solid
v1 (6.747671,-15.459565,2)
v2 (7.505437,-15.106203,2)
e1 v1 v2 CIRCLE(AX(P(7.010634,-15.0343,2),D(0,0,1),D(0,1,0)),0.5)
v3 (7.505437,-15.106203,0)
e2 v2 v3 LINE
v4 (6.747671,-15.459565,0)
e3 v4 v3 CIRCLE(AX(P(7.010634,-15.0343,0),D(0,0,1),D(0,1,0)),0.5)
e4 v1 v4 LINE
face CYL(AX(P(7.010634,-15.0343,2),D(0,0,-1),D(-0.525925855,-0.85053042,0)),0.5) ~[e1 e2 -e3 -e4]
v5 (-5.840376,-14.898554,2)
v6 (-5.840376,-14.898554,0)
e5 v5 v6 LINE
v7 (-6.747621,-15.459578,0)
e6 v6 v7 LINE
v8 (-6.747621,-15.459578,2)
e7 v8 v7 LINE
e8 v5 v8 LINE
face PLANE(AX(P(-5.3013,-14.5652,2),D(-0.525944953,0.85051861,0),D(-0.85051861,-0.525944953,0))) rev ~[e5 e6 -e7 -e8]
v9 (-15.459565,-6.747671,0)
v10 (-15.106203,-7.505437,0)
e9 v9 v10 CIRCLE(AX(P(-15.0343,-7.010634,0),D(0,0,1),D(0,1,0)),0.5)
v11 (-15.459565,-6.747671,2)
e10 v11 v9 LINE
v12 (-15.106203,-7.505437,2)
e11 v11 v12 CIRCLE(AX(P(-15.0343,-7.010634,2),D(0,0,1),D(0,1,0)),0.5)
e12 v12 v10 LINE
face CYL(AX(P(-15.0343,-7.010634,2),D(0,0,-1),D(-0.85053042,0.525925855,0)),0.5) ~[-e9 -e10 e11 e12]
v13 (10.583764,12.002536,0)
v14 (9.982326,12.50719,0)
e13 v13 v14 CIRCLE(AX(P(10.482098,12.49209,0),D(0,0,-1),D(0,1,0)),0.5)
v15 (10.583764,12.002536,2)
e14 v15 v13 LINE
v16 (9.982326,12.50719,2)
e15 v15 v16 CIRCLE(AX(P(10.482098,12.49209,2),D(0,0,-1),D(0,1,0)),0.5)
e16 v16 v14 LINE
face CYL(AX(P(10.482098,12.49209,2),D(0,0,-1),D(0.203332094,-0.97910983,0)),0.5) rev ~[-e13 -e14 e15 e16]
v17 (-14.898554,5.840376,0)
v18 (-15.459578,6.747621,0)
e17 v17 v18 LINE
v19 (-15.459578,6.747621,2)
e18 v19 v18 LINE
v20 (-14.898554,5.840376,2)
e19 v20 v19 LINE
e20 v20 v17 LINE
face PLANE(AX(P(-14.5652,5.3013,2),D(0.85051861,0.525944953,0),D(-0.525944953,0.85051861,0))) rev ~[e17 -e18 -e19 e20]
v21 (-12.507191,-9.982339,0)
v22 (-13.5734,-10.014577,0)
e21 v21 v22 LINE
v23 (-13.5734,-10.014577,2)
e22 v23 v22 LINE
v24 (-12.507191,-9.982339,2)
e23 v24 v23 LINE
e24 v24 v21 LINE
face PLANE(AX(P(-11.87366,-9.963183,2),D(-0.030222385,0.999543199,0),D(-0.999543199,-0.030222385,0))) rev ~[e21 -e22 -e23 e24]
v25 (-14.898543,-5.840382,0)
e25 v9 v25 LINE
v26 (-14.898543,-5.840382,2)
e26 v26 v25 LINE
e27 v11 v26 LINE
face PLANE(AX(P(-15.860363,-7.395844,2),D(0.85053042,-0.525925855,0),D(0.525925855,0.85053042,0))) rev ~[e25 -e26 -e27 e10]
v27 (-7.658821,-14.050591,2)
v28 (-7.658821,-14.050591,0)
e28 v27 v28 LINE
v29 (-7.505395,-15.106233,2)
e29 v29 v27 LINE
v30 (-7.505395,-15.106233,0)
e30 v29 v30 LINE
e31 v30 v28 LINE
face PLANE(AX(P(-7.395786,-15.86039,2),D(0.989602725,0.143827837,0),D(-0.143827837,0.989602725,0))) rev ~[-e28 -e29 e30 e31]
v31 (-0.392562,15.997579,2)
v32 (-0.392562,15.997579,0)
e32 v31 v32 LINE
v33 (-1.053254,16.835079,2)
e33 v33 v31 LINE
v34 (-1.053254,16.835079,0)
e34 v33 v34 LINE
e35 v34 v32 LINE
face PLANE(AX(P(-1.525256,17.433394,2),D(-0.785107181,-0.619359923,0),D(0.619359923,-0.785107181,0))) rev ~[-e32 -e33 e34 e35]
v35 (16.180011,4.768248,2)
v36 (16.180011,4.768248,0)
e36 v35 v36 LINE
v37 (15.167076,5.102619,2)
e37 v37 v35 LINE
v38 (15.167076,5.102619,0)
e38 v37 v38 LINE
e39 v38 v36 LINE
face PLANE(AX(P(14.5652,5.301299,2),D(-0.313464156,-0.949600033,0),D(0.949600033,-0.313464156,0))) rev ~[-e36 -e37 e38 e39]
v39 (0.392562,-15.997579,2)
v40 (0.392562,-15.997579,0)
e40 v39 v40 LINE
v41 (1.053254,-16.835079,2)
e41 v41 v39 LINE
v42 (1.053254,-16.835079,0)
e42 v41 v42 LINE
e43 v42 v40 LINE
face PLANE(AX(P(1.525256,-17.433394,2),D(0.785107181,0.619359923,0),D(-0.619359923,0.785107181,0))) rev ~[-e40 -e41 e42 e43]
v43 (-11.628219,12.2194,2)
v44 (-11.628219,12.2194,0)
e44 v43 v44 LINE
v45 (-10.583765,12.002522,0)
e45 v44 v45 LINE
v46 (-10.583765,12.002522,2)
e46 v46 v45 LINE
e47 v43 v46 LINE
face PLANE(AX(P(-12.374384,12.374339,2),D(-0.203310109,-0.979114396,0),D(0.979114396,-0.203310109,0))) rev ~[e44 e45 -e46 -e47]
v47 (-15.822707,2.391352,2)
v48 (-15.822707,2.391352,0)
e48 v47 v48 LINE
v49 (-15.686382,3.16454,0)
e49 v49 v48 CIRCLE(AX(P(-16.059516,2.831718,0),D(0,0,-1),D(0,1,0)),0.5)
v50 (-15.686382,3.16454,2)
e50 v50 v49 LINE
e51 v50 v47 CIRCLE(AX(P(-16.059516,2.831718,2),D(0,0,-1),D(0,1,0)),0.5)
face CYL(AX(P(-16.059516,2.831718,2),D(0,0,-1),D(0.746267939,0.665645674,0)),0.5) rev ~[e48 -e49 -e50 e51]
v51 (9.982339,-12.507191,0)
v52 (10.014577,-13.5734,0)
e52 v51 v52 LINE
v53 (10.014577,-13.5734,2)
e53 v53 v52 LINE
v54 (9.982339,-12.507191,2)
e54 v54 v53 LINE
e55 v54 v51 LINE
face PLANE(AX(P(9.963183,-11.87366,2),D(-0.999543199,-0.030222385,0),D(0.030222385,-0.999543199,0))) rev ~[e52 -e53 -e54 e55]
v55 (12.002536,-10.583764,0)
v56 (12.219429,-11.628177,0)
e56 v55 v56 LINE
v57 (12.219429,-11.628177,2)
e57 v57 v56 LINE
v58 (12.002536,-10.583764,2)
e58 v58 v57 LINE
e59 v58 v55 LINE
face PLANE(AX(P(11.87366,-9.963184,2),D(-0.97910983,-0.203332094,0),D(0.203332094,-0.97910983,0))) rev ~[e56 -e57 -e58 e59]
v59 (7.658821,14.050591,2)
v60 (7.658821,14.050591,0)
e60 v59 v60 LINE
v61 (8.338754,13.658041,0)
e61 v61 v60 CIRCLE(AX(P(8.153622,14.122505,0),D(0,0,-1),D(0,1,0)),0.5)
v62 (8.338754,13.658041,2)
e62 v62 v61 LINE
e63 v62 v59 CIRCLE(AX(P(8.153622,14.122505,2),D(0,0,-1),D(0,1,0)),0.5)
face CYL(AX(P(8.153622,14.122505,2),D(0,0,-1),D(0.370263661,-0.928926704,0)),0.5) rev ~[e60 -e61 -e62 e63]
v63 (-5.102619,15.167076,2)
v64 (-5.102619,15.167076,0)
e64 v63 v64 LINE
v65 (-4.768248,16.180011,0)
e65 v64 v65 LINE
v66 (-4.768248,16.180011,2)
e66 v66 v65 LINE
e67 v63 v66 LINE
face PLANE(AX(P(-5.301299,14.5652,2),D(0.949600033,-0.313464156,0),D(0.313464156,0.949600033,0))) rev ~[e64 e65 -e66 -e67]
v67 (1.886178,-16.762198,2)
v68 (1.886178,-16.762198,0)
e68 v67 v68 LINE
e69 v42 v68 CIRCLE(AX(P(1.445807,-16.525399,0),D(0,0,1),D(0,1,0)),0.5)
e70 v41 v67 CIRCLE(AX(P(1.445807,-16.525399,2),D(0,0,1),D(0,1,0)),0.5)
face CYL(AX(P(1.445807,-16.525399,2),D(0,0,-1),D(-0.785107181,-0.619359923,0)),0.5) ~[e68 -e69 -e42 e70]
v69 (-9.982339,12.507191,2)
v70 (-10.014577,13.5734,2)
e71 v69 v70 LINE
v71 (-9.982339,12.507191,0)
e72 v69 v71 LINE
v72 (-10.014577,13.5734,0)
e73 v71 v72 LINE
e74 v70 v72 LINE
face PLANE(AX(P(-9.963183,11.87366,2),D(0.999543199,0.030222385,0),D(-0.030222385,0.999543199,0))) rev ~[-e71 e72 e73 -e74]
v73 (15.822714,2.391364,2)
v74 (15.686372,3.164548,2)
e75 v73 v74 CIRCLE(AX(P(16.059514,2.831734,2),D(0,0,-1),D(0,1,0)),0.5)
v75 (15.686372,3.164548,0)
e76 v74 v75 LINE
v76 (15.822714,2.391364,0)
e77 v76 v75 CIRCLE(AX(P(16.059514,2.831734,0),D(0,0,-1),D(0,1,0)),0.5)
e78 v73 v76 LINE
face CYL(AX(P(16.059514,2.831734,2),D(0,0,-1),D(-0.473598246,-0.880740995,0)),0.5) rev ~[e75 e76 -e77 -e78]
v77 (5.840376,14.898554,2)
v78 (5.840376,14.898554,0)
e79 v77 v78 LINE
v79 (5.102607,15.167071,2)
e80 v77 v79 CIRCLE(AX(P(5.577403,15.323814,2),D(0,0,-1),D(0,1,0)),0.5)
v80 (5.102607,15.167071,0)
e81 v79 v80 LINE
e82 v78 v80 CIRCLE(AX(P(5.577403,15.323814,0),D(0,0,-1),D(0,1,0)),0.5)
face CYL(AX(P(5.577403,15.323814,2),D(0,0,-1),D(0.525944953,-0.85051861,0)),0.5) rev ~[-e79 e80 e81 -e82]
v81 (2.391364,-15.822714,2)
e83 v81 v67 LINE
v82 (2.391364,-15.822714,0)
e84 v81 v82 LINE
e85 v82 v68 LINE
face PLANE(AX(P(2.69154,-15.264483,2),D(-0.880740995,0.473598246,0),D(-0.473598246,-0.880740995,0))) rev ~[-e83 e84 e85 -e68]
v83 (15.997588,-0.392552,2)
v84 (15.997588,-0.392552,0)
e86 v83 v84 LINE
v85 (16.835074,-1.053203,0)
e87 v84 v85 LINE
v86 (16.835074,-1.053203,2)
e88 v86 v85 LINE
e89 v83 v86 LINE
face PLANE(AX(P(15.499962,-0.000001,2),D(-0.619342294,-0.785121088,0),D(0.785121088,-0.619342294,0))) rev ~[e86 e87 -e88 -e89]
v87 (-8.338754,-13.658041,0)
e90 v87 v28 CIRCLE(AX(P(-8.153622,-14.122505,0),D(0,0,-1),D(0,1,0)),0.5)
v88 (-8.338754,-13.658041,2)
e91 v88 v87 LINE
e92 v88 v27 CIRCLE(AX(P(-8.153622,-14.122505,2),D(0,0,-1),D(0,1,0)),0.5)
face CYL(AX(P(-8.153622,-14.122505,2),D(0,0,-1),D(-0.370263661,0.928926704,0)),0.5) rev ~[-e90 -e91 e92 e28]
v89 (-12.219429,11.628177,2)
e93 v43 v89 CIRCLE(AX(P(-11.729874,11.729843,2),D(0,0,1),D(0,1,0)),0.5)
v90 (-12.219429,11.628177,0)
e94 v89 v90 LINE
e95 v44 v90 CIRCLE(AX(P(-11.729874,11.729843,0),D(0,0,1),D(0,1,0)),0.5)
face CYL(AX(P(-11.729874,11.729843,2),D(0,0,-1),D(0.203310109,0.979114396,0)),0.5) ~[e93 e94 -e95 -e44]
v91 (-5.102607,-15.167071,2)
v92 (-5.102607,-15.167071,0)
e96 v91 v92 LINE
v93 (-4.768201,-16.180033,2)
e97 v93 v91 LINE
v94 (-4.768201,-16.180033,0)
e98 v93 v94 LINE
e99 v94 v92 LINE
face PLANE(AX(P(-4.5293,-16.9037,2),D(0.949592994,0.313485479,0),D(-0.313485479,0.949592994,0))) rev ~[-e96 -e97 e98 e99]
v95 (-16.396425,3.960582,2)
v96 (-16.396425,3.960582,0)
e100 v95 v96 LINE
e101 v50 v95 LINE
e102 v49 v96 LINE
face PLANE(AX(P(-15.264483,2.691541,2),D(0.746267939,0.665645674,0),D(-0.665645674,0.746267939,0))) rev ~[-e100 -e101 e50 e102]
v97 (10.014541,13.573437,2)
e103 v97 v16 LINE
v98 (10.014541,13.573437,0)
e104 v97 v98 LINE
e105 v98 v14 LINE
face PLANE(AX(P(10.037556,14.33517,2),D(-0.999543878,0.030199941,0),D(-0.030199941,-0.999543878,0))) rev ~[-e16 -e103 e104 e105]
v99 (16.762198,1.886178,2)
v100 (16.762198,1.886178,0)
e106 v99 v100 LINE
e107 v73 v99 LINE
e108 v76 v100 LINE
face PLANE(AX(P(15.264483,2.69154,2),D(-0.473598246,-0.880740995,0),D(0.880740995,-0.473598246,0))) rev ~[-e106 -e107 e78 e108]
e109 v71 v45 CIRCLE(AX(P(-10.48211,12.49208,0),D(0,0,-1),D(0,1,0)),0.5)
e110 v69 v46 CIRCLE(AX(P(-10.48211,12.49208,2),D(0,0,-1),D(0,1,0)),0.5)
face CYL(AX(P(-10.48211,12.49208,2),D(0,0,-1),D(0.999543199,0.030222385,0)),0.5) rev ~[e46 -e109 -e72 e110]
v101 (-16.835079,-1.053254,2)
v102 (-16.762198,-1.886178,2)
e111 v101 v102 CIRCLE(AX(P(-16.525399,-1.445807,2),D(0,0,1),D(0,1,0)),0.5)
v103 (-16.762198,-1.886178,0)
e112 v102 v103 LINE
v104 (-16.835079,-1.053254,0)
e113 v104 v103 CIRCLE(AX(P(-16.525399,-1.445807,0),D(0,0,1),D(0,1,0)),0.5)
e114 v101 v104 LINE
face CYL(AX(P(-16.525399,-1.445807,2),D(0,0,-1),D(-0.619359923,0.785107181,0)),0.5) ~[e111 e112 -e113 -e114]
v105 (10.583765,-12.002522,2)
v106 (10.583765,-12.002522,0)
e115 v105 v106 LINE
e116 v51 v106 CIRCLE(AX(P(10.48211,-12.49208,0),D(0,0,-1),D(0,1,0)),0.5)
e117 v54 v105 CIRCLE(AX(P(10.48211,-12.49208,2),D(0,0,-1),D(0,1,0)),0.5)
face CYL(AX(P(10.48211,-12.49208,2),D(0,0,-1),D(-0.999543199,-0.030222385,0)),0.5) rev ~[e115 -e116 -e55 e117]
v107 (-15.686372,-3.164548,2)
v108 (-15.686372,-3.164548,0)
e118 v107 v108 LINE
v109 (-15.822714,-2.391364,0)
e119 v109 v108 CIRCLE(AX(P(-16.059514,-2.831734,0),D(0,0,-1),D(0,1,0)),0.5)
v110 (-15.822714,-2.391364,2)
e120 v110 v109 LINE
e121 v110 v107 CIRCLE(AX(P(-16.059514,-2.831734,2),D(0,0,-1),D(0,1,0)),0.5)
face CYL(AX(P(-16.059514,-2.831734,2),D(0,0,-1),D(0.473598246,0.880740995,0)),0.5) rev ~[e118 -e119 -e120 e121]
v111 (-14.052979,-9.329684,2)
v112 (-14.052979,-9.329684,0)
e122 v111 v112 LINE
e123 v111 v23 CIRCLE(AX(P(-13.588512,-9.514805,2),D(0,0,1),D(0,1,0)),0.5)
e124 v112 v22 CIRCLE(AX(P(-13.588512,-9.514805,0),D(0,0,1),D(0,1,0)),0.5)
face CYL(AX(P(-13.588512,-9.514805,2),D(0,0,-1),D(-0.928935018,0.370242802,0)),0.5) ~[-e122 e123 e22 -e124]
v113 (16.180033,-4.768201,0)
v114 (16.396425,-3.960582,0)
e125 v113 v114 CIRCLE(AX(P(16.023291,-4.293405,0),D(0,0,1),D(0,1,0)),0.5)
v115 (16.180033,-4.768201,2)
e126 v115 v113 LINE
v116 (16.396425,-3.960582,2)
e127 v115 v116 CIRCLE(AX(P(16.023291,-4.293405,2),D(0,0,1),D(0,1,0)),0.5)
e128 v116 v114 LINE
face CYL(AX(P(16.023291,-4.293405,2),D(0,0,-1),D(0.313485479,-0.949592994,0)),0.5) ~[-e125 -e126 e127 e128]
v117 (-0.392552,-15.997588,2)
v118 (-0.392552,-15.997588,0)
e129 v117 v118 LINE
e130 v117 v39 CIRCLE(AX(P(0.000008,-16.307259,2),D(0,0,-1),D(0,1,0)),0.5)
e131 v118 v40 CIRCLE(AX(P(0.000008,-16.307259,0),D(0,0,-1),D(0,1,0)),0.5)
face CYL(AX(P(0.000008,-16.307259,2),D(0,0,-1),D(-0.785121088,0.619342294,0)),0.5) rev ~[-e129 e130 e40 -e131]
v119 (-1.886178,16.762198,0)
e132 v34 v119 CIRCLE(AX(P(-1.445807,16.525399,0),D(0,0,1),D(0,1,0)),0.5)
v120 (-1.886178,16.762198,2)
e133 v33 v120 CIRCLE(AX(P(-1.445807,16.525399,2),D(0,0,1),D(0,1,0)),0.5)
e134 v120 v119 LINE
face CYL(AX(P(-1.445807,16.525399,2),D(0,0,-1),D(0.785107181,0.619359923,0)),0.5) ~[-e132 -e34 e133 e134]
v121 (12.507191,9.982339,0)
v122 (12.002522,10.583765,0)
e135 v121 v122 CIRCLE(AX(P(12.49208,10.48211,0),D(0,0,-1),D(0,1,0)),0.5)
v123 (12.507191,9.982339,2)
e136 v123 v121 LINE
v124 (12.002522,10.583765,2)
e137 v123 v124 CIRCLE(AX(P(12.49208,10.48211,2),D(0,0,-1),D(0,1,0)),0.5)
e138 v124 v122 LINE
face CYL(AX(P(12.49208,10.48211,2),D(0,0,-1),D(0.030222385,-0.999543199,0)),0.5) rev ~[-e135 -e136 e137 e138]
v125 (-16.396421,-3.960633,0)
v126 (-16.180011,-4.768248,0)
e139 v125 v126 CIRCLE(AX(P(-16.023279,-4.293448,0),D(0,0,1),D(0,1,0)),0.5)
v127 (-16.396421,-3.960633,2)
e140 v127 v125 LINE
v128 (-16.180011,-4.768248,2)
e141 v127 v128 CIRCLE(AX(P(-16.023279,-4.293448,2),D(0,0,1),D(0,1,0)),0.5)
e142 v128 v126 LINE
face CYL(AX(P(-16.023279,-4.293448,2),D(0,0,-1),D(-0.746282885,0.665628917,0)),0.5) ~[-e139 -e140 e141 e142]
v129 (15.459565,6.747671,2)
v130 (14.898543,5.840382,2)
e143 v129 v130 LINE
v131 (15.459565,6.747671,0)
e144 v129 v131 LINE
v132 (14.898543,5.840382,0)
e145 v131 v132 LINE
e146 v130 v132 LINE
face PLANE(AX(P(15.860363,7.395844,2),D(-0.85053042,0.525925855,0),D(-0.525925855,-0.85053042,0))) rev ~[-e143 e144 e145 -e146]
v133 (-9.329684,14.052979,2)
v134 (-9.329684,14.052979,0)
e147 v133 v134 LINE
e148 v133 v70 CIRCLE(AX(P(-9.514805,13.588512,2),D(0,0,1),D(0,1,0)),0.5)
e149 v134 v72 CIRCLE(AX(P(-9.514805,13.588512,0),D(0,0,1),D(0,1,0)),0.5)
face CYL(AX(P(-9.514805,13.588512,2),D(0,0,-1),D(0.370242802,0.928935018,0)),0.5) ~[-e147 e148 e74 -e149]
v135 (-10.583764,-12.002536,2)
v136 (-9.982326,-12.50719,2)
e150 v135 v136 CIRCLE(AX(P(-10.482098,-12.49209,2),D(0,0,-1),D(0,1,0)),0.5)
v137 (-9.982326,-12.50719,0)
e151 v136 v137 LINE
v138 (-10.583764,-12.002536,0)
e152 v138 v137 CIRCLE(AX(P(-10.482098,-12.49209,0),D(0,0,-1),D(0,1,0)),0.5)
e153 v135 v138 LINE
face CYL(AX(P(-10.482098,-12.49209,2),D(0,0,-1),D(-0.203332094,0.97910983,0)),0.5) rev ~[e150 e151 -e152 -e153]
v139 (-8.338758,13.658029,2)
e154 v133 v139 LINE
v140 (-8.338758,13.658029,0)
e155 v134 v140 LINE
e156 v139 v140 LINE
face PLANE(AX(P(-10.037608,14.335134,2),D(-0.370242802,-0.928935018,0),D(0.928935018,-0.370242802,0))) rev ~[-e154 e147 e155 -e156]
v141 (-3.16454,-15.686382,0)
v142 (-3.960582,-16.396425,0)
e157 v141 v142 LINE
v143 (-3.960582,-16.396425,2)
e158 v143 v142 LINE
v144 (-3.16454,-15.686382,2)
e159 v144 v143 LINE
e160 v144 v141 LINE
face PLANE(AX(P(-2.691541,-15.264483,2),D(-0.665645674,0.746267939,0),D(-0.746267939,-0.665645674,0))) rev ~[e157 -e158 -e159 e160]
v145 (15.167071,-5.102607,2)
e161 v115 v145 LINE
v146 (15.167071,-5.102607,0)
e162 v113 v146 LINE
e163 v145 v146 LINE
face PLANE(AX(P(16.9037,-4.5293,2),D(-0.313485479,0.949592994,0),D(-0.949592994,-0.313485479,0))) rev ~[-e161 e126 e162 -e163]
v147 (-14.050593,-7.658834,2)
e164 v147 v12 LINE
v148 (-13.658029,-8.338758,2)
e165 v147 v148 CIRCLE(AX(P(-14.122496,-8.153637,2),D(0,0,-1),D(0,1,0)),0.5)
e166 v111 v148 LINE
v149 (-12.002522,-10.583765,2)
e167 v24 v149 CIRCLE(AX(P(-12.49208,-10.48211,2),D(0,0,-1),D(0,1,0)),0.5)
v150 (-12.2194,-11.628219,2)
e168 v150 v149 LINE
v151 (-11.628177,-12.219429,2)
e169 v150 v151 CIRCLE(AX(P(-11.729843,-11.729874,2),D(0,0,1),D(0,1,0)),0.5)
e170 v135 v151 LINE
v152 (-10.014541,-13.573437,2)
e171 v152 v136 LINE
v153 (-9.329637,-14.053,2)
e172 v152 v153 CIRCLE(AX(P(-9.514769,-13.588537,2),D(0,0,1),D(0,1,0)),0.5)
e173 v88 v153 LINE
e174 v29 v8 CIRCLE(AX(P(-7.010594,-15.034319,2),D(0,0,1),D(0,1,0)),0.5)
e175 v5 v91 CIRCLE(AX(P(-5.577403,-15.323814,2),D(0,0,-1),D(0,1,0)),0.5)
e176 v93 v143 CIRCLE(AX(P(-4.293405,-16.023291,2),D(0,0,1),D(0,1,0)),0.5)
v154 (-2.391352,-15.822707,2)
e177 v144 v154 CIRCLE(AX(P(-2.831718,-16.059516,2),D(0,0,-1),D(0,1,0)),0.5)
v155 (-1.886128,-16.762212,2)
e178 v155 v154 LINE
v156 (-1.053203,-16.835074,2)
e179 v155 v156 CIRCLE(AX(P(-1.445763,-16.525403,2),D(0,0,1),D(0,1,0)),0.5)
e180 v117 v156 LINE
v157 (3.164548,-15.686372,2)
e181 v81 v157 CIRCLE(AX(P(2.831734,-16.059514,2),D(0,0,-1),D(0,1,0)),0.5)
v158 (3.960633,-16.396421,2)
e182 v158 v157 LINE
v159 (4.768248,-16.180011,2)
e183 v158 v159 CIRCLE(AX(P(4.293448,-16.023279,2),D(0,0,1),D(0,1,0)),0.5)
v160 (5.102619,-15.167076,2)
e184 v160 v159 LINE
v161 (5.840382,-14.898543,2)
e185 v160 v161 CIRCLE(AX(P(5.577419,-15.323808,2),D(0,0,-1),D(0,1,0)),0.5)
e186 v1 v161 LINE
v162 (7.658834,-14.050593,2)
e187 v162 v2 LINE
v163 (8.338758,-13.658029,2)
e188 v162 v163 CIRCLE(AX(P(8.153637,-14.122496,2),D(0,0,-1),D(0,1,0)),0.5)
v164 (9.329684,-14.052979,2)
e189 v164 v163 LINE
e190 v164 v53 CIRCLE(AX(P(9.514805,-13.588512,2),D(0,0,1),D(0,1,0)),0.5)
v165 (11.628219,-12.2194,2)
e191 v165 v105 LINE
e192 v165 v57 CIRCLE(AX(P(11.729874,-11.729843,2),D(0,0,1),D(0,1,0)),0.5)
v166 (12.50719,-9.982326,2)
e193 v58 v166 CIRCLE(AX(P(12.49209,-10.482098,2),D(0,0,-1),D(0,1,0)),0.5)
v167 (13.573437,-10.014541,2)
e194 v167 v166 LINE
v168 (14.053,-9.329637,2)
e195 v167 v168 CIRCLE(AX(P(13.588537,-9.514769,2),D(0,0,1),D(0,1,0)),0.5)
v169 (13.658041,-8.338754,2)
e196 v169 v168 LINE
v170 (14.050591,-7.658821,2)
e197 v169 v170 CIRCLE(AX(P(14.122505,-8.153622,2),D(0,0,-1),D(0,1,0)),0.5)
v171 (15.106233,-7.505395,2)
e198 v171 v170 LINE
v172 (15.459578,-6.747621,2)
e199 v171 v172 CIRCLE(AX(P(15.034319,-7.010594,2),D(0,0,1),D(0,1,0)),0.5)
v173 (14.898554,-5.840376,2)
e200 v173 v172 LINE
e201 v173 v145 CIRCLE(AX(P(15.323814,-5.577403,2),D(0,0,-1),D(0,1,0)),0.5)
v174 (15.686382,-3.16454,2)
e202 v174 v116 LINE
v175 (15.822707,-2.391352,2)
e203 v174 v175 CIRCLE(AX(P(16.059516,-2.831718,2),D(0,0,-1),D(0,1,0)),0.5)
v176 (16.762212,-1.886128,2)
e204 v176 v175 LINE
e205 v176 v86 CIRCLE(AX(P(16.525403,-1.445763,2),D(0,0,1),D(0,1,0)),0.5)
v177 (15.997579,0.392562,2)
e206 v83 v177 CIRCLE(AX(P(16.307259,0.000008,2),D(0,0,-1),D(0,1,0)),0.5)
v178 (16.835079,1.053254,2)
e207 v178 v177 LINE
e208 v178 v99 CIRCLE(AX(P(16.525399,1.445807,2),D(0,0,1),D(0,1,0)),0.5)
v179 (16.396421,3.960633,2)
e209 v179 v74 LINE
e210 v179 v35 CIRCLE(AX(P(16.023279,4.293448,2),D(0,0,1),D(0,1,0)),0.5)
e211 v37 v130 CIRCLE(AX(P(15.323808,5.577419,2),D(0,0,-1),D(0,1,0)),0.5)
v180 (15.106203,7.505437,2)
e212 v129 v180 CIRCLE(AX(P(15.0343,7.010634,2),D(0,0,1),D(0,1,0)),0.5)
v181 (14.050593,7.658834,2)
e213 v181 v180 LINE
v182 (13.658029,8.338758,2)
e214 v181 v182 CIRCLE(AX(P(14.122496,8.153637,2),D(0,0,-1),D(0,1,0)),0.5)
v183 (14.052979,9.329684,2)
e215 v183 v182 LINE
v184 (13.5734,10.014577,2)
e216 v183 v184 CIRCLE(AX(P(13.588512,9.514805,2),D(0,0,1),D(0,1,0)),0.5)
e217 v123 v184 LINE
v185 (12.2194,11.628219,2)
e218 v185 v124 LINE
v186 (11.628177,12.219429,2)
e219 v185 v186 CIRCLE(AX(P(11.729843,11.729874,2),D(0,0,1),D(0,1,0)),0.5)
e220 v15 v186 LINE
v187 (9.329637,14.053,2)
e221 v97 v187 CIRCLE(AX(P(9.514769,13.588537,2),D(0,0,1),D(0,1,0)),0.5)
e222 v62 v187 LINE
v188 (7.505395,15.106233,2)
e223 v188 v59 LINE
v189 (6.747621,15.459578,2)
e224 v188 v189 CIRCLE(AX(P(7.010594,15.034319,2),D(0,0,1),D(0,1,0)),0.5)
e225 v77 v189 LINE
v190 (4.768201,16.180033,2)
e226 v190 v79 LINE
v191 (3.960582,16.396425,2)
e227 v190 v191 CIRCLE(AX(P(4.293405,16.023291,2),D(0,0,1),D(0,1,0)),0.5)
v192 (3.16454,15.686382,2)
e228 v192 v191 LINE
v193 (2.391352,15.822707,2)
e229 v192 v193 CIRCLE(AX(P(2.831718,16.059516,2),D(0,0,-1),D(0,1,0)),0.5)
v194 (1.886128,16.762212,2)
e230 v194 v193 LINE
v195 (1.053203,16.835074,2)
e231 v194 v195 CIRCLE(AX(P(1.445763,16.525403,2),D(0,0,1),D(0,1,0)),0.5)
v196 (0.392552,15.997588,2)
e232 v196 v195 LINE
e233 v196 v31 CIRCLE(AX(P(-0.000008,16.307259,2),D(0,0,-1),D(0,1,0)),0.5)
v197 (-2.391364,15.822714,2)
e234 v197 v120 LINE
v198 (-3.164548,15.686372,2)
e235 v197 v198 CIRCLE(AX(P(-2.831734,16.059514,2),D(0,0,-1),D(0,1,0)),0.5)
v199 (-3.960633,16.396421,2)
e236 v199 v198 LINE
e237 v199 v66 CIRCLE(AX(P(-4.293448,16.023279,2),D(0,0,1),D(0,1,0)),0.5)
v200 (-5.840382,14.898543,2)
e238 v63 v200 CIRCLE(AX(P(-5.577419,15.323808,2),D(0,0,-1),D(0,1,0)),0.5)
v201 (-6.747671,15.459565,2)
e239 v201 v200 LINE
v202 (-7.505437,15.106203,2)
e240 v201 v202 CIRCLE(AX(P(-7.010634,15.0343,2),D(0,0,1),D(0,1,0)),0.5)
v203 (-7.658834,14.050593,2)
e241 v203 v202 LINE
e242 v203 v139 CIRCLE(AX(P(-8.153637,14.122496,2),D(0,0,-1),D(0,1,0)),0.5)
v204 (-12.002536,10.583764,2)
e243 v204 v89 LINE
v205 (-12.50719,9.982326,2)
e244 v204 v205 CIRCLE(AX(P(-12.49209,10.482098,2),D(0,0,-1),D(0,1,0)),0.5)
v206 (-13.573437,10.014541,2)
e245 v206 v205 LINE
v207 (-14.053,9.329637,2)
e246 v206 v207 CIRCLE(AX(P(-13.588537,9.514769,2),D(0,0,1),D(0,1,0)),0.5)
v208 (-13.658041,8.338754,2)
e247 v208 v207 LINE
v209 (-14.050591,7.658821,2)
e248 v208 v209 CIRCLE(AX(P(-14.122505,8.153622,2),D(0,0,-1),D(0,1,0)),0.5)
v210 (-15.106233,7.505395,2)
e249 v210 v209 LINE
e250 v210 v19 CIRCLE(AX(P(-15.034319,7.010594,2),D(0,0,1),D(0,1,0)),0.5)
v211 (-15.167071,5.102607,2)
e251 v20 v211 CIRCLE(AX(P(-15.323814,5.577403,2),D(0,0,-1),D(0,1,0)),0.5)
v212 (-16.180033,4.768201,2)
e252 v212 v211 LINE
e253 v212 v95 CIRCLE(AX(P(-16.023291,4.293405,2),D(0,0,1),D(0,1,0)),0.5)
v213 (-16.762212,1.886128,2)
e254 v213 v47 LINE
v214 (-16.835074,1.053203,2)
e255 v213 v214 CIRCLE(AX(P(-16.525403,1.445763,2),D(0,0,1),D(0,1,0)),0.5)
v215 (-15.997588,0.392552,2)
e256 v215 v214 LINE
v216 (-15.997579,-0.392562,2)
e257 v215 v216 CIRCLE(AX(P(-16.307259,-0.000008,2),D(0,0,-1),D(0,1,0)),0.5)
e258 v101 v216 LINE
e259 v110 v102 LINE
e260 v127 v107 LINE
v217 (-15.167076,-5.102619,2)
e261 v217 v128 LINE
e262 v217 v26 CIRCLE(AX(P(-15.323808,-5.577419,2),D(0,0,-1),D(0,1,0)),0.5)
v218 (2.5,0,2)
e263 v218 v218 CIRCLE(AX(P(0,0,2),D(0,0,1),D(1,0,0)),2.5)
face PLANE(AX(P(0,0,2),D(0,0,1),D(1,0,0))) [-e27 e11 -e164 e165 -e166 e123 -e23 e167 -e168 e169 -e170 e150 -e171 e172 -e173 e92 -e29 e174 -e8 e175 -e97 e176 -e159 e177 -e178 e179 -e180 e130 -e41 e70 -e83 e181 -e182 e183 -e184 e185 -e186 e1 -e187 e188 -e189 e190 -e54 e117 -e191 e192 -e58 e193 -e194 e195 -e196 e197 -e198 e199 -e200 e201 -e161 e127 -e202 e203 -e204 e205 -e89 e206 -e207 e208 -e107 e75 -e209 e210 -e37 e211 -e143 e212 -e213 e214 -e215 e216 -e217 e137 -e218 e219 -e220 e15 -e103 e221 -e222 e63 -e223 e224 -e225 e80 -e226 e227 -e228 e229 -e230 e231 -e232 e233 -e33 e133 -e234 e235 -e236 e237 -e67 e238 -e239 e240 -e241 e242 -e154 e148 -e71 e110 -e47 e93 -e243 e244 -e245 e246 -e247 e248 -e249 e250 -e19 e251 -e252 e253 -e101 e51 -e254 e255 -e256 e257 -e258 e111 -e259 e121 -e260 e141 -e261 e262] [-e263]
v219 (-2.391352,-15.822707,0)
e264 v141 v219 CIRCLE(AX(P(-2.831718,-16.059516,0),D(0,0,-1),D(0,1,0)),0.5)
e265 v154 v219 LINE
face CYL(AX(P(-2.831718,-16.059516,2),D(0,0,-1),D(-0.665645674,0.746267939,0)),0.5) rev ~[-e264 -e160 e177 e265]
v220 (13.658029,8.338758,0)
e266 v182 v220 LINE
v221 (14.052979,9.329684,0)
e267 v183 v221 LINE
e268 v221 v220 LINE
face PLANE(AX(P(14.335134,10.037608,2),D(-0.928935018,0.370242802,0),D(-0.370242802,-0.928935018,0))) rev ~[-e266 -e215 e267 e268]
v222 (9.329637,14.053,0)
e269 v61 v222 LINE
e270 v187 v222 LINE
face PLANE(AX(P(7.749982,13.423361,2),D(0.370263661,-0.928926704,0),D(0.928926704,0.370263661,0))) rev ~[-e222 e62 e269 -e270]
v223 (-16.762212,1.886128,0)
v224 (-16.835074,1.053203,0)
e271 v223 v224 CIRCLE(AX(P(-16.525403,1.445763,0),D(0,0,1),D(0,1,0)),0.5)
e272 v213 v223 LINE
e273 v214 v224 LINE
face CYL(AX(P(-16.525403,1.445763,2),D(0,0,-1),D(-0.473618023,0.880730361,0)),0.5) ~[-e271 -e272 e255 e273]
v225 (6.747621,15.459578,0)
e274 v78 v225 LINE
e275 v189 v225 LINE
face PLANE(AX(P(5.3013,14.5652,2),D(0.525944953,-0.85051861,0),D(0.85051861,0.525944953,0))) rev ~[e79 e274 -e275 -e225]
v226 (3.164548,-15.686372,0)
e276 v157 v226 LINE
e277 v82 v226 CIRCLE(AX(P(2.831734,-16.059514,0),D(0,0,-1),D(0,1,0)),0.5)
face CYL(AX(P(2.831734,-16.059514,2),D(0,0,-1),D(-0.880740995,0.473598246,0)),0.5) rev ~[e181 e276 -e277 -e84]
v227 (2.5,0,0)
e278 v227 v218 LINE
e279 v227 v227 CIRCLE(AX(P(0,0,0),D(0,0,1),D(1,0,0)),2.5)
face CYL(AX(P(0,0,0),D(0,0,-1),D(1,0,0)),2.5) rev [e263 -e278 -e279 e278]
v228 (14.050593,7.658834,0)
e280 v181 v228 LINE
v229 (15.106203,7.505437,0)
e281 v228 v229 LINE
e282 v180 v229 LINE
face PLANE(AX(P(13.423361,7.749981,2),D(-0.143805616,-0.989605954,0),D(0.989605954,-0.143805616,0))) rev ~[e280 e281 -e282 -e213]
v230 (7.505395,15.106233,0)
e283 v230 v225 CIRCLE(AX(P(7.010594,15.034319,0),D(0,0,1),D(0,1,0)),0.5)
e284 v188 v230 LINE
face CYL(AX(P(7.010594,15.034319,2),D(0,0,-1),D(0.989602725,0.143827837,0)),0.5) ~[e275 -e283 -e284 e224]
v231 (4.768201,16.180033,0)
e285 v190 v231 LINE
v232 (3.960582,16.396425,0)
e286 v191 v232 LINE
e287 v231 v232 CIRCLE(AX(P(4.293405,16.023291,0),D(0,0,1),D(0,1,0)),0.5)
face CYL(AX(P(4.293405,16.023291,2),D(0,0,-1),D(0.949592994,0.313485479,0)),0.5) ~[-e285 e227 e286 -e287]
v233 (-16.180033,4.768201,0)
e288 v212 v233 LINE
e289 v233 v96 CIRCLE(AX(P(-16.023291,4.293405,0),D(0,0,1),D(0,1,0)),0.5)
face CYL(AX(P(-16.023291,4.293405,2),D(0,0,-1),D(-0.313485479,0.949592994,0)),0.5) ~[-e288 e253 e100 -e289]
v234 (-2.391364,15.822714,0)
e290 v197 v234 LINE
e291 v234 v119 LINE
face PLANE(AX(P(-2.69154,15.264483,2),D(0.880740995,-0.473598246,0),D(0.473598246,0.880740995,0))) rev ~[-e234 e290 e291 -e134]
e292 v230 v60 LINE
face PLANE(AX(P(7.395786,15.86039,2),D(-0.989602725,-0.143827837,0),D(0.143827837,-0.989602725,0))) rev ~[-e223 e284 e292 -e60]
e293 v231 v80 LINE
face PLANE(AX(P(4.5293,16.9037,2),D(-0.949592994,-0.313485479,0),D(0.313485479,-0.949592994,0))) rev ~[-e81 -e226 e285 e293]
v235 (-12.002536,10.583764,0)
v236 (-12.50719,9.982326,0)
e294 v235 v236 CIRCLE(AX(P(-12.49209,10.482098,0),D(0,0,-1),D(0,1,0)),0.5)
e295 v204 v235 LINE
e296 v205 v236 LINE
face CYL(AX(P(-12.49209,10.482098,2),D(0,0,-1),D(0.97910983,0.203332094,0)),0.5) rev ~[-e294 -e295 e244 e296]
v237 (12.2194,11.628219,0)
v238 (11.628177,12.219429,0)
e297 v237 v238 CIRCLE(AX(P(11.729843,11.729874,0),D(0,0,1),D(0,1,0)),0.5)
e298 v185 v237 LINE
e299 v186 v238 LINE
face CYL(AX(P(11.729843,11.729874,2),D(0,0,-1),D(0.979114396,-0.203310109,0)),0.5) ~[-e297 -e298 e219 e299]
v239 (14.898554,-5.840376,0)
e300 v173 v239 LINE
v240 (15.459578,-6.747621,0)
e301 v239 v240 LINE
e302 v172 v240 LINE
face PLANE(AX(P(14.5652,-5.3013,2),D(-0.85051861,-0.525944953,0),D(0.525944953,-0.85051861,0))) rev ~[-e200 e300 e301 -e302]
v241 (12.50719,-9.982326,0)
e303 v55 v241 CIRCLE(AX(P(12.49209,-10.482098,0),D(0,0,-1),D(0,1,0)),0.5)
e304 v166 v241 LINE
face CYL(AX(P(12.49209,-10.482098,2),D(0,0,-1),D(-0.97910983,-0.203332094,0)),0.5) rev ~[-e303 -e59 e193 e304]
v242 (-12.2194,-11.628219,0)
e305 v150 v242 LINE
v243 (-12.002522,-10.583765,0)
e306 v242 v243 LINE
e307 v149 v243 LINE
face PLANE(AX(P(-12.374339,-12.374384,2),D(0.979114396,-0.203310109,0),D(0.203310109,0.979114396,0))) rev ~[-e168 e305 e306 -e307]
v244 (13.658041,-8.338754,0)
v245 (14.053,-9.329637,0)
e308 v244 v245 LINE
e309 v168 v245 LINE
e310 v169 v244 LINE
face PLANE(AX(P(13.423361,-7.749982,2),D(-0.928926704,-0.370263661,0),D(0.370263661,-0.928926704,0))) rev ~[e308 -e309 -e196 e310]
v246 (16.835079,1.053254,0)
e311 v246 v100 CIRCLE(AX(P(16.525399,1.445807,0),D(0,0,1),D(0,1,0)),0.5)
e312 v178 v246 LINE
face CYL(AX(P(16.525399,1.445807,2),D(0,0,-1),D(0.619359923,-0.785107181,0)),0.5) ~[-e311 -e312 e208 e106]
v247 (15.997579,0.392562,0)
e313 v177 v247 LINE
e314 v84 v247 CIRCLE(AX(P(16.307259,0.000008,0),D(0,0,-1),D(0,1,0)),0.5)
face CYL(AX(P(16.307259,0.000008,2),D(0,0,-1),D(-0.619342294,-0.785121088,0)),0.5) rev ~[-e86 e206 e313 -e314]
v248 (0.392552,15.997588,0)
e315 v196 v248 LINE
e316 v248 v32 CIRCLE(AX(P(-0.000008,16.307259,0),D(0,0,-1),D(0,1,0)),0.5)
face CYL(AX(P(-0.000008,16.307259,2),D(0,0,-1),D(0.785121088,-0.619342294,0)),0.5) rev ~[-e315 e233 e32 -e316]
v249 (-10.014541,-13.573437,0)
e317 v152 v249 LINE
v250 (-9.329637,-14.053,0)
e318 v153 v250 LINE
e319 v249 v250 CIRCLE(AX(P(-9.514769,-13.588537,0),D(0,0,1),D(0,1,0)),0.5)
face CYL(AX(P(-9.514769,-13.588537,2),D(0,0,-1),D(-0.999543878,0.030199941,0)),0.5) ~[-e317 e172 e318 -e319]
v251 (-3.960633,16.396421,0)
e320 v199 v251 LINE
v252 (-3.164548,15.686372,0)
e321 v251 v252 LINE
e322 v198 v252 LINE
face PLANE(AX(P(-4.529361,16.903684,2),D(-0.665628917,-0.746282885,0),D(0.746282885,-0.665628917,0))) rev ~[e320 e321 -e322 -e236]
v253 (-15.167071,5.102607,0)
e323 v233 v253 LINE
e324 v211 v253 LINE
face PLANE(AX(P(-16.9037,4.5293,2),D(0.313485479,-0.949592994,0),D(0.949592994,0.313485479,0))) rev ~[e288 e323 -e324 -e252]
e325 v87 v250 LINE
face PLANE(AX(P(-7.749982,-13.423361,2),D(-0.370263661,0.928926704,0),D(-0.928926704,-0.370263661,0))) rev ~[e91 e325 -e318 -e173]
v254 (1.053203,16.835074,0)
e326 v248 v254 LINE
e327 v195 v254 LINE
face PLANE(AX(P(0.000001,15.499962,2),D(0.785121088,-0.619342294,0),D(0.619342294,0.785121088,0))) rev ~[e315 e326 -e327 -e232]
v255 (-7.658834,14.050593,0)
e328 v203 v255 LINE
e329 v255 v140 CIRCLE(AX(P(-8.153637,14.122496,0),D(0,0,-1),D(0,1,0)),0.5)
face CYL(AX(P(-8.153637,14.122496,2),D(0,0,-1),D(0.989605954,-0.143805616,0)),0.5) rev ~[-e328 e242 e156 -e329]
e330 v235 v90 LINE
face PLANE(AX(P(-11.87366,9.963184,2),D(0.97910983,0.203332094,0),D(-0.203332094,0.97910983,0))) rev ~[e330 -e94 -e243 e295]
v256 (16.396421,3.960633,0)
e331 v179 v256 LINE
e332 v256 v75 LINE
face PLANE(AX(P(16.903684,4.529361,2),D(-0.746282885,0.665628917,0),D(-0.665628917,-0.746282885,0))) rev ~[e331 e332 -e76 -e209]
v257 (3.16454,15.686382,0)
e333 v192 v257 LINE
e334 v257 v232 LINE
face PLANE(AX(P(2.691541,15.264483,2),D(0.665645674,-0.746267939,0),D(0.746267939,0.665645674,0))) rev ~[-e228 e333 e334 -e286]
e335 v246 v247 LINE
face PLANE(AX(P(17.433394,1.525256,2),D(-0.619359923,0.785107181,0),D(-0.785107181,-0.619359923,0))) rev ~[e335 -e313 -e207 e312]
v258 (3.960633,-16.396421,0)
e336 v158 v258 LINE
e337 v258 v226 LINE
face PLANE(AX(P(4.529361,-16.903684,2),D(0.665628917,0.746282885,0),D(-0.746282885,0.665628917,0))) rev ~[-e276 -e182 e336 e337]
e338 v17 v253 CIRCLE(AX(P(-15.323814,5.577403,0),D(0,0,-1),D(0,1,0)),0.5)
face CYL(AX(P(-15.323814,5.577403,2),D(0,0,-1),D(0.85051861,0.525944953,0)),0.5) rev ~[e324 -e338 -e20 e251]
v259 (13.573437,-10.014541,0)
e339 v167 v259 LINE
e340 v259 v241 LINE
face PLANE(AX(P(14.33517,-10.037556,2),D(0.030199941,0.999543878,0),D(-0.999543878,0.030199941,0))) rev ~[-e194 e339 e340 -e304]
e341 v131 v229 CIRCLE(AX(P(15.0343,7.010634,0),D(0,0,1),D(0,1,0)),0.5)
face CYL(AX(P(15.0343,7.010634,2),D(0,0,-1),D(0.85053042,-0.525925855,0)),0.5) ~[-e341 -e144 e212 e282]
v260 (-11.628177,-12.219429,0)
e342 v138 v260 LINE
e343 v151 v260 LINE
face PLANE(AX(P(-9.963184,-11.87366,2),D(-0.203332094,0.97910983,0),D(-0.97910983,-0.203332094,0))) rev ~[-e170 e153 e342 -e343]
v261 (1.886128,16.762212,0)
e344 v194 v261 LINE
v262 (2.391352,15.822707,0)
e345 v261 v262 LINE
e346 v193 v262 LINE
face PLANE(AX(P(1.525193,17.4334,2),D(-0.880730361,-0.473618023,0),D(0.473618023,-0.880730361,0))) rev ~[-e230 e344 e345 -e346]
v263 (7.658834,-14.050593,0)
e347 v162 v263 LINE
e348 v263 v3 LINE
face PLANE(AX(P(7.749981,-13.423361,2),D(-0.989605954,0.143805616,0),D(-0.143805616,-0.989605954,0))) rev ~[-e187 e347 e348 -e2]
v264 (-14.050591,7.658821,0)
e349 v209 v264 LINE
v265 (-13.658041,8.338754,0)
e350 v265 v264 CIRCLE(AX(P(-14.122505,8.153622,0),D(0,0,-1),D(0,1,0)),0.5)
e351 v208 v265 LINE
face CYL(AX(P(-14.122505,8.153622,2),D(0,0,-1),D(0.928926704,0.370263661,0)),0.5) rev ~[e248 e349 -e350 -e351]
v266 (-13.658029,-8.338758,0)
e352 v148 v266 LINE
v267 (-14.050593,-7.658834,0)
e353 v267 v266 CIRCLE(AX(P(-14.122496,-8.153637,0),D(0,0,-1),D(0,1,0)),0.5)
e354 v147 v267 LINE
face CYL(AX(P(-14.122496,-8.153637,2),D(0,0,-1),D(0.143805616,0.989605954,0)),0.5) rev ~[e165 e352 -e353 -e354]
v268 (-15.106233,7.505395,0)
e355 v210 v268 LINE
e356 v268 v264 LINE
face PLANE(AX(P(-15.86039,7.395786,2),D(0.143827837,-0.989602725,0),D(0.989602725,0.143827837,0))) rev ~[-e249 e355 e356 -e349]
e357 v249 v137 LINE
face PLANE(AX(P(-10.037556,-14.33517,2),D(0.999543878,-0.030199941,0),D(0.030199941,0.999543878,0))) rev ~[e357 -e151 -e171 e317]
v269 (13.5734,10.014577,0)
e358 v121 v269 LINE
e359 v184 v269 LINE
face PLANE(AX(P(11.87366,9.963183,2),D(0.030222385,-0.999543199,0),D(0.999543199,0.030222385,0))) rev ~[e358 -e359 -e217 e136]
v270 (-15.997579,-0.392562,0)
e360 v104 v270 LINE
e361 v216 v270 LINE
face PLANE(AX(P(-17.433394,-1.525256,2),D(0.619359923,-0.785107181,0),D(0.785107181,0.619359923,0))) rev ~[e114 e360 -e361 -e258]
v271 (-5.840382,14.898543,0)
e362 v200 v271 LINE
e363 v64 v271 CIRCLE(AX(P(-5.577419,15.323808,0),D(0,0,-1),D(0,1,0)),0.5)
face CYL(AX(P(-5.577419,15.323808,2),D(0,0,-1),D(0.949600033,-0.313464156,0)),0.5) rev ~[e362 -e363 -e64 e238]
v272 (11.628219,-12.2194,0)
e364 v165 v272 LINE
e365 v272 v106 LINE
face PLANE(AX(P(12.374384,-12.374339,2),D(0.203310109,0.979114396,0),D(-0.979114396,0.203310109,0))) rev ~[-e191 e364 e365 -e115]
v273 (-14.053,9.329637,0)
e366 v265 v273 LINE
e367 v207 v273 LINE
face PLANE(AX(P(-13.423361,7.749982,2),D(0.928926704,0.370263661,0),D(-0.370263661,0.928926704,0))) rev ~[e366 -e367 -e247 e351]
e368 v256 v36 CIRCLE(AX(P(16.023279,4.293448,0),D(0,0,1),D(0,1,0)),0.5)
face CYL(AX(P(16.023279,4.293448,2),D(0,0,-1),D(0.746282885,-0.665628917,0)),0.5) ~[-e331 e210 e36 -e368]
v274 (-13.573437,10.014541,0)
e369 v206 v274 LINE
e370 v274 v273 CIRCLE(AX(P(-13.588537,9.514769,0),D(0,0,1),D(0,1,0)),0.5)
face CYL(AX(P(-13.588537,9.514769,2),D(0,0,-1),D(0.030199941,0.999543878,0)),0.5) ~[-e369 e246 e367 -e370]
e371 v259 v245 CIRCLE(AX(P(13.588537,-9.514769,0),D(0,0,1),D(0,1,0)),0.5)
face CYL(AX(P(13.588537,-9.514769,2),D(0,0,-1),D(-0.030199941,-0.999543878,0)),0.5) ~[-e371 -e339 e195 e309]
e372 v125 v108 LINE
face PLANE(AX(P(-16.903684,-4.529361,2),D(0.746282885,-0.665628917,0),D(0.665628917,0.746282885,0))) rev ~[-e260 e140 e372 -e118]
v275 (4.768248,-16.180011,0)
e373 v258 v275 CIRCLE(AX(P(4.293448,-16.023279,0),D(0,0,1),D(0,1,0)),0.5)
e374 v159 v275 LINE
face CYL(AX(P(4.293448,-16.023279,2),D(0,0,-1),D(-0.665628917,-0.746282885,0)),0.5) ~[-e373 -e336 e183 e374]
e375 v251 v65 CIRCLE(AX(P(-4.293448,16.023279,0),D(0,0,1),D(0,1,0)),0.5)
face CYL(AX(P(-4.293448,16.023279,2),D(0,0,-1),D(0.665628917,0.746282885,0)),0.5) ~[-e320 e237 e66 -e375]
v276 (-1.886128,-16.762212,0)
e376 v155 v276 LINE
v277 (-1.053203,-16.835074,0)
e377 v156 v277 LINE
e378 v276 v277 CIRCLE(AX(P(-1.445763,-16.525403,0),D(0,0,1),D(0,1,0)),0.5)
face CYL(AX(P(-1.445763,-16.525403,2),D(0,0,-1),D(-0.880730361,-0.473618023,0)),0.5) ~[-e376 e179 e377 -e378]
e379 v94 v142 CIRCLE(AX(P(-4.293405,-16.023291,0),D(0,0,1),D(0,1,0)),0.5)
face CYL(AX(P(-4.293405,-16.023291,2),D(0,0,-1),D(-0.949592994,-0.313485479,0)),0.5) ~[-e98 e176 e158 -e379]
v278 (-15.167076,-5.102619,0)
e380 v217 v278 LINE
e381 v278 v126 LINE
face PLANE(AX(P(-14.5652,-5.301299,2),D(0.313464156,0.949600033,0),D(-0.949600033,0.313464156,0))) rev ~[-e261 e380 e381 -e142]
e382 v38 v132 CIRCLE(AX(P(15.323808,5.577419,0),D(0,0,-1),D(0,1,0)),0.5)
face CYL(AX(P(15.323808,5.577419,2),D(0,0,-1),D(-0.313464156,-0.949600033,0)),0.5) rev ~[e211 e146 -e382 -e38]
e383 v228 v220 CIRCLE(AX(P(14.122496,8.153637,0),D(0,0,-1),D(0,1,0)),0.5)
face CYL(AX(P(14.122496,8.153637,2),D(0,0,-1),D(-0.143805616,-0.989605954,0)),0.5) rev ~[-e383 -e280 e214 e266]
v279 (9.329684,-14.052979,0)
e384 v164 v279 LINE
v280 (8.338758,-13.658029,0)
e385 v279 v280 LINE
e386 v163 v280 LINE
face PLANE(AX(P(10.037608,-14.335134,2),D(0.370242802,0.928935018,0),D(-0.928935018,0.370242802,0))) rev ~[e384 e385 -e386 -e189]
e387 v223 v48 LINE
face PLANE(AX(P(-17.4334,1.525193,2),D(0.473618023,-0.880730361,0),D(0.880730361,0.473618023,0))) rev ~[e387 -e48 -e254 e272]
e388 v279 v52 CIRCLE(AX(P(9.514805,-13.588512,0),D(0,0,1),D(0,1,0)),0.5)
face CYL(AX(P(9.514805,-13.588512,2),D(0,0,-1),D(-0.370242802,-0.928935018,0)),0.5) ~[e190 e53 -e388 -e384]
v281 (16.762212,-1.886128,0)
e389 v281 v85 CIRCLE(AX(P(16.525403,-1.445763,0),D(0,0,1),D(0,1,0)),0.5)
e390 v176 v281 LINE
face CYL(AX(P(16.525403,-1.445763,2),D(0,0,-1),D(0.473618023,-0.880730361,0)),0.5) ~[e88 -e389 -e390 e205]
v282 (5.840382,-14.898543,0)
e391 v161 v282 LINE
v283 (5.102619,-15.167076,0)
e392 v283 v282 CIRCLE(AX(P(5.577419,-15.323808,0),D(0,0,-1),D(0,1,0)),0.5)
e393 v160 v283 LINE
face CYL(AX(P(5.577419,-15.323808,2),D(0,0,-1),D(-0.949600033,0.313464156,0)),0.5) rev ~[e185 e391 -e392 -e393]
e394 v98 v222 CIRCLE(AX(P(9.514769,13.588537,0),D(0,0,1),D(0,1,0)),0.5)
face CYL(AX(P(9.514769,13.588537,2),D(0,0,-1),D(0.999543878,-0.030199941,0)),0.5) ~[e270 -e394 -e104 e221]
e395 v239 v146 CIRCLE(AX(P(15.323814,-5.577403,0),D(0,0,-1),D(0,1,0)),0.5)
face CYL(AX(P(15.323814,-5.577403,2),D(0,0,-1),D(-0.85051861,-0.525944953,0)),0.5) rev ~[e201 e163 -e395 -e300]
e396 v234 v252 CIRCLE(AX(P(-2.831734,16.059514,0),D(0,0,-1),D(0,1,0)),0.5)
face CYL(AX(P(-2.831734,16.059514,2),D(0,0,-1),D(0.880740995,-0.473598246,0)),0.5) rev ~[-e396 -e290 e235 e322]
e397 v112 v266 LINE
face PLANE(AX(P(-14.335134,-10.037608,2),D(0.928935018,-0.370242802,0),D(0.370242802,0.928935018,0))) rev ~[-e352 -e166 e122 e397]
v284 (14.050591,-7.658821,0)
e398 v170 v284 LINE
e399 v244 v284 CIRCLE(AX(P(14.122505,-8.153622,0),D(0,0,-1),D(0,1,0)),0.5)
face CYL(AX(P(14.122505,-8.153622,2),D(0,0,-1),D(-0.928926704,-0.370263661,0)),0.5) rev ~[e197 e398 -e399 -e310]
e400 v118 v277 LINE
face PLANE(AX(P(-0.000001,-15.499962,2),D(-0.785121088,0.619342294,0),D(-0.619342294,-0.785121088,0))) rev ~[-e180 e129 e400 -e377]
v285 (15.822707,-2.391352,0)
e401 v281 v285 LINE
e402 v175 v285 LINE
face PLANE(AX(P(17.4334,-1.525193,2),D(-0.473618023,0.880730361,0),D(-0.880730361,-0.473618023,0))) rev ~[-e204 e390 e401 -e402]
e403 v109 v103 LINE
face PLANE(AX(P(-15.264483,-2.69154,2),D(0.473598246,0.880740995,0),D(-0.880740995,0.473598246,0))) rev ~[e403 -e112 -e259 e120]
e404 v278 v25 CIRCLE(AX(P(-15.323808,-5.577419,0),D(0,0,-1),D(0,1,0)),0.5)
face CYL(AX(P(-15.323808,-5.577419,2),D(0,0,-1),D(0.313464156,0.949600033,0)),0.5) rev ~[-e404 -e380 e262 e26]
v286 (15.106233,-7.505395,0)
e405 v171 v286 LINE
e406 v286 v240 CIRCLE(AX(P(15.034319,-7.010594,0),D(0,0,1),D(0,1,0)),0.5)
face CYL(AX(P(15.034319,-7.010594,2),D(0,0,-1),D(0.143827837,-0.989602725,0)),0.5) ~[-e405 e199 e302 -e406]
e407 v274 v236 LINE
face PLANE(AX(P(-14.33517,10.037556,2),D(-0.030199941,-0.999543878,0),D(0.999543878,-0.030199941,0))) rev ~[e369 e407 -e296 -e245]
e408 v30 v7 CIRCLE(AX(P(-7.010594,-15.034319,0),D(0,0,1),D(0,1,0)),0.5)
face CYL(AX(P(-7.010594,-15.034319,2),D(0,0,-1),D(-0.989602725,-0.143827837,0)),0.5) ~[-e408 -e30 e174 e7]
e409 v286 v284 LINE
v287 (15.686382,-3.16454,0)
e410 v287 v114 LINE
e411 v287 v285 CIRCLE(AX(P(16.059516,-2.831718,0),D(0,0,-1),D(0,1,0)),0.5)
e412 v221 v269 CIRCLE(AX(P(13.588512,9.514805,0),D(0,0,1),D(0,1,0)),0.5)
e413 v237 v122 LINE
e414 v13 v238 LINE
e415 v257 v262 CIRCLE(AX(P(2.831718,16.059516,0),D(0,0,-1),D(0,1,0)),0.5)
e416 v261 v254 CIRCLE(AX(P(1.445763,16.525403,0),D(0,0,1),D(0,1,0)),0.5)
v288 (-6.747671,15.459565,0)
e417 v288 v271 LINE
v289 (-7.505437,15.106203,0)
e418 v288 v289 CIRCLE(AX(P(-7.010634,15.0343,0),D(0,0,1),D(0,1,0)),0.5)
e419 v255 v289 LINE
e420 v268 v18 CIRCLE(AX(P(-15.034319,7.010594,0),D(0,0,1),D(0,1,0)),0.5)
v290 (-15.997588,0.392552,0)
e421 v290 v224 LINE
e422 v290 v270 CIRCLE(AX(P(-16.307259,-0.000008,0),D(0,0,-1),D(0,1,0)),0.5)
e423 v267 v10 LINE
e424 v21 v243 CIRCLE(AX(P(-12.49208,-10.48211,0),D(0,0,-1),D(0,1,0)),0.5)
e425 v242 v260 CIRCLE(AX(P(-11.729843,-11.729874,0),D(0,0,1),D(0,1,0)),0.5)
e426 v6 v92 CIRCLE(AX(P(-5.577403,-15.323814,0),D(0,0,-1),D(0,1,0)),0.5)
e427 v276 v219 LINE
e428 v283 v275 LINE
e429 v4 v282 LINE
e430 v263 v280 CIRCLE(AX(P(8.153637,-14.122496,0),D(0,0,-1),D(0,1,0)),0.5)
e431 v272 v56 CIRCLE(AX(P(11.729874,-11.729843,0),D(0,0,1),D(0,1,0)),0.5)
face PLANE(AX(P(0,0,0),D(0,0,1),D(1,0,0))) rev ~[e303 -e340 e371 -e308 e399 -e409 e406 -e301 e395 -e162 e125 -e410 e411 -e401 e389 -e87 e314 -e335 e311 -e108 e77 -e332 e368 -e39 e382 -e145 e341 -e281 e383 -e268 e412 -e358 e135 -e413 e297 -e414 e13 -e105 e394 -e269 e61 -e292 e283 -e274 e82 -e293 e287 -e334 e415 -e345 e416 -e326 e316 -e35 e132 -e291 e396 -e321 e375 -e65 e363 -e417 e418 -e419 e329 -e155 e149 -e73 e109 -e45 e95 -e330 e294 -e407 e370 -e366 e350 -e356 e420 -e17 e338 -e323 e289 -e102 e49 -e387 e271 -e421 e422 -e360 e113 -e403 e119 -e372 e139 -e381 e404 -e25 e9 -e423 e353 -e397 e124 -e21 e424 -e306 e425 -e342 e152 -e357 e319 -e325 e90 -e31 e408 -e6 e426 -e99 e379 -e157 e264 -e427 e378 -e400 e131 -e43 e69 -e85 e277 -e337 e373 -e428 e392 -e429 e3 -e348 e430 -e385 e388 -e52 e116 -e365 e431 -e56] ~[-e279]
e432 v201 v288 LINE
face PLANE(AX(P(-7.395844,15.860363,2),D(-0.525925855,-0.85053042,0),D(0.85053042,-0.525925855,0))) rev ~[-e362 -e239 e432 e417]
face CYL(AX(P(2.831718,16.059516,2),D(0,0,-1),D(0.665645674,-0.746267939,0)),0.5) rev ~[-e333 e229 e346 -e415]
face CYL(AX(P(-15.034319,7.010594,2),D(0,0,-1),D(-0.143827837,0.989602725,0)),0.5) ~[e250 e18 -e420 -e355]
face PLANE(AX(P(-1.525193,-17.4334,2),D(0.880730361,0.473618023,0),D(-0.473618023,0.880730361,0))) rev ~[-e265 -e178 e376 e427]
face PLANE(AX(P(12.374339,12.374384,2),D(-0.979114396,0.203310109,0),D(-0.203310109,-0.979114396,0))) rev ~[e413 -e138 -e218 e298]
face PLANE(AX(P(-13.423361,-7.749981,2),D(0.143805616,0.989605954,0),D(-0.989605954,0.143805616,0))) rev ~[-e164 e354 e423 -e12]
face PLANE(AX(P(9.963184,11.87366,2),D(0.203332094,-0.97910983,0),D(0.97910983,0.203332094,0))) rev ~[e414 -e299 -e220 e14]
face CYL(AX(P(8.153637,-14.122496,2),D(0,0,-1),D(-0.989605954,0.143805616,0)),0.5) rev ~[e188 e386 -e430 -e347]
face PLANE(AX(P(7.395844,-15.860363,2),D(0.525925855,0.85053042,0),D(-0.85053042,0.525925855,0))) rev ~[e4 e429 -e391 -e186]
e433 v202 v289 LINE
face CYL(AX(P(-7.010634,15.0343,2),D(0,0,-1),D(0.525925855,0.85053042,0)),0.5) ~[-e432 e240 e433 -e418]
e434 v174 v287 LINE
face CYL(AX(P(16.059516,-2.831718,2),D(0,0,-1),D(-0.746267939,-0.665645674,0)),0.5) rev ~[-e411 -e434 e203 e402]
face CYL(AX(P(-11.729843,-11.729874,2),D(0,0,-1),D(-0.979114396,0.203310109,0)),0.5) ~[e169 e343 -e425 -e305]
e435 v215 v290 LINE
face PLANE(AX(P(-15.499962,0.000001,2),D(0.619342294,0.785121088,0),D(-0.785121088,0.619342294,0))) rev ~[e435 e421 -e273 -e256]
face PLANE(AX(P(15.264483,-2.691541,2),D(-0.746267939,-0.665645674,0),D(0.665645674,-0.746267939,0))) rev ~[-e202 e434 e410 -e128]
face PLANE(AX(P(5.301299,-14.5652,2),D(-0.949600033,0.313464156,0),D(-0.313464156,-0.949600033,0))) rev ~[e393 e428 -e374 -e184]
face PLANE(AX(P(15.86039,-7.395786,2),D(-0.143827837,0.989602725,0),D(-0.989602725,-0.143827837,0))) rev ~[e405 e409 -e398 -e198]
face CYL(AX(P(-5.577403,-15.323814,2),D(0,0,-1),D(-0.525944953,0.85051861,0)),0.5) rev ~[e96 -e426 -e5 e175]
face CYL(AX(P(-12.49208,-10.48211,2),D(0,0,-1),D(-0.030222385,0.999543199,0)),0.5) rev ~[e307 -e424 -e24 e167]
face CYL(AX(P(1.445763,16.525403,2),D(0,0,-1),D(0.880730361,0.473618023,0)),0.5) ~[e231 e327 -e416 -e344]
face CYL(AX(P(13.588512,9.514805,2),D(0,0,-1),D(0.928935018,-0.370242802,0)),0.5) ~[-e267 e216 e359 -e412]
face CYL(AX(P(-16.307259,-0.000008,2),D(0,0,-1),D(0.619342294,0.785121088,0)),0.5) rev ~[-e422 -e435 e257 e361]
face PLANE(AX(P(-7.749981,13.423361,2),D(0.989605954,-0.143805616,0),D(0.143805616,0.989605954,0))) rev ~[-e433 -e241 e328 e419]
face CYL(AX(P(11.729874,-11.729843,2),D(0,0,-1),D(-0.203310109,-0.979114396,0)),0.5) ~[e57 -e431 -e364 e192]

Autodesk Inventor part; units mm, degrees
ref_plane "YZ Plane" through (0, 0, 0) normal (1, 0, 0) x (0, 1, 0)
ref_plane "XZ Plane" through (0, 0, 0) normal (0, 1, 0) x (-1, 0, 0)
ref_plane "XY Plane" through (0, 0, 0) normal (0, 0, 1) x (1, 0, 0)
sketch "Sketch1" plane through (0, 0, 0) normal (0, 0, 1) x (1, 0, 0)
  circle A0 centre (0, 0) radius 17.5
  circle A1 centre (0, 0) radius 2.5
  dimension "d0" = 35
  dimension "d1" = 5
extrude "Extrusion1" add sketch "Sketch1" along normal blind 2
sketch "Sketch2" plane through (0, 0, 2) normal (0, 0, 1) x (1, 0, 0)
  circle A0 centre (0, 0) radius 17.5 projected
  line L0 (0, 0) -> (7.3958, 15.8604) construction
  line L1 (0, 0) -> (4.5293, 16.9037) construction
  line L2 (4.5293, 16.9037) -> (5.3013, 14.5652)
  line L3 (5.3013, 14.5652) -> (7.3958, 15.8604)
  circle A1 centre (0, 0) radius 15.5 construction
  line L4 (0, 0) -> (5.3013, 14.5652) construction
  line L5 (0, 0) -> (0, 7.7829) construction
  arc A2 (7.3958, 15.8604) -> (4.5293, 16.9037) centre (0, 0) ccw
  dimension "d4" = 10
  dimension "d5" = 2
  dimension "d6" = 5
  dimension "d7" = 20
extrude "Extrusion2" cut sketch "Sketch2" against normal through all contours L3 L2 A0 picked at (5.1117, 16.0269)
pattern_circular "Circular Pattern1" count 36 over 360 about axis through (0, 0, 0) along (0, 0, 1) of "Extrusion2"
fillet "Fillet1" radius 0.5 2 edges at (5.3013, 14.5652, 1) (4.5293, 16.9037, 1)
pattern_circular "Circular Pattern2" count 36 over 360 about axis through (0, 0, 0) along (0, 0, 1) of "Fillet1"
properties part number "Kugghjul 5mm"
